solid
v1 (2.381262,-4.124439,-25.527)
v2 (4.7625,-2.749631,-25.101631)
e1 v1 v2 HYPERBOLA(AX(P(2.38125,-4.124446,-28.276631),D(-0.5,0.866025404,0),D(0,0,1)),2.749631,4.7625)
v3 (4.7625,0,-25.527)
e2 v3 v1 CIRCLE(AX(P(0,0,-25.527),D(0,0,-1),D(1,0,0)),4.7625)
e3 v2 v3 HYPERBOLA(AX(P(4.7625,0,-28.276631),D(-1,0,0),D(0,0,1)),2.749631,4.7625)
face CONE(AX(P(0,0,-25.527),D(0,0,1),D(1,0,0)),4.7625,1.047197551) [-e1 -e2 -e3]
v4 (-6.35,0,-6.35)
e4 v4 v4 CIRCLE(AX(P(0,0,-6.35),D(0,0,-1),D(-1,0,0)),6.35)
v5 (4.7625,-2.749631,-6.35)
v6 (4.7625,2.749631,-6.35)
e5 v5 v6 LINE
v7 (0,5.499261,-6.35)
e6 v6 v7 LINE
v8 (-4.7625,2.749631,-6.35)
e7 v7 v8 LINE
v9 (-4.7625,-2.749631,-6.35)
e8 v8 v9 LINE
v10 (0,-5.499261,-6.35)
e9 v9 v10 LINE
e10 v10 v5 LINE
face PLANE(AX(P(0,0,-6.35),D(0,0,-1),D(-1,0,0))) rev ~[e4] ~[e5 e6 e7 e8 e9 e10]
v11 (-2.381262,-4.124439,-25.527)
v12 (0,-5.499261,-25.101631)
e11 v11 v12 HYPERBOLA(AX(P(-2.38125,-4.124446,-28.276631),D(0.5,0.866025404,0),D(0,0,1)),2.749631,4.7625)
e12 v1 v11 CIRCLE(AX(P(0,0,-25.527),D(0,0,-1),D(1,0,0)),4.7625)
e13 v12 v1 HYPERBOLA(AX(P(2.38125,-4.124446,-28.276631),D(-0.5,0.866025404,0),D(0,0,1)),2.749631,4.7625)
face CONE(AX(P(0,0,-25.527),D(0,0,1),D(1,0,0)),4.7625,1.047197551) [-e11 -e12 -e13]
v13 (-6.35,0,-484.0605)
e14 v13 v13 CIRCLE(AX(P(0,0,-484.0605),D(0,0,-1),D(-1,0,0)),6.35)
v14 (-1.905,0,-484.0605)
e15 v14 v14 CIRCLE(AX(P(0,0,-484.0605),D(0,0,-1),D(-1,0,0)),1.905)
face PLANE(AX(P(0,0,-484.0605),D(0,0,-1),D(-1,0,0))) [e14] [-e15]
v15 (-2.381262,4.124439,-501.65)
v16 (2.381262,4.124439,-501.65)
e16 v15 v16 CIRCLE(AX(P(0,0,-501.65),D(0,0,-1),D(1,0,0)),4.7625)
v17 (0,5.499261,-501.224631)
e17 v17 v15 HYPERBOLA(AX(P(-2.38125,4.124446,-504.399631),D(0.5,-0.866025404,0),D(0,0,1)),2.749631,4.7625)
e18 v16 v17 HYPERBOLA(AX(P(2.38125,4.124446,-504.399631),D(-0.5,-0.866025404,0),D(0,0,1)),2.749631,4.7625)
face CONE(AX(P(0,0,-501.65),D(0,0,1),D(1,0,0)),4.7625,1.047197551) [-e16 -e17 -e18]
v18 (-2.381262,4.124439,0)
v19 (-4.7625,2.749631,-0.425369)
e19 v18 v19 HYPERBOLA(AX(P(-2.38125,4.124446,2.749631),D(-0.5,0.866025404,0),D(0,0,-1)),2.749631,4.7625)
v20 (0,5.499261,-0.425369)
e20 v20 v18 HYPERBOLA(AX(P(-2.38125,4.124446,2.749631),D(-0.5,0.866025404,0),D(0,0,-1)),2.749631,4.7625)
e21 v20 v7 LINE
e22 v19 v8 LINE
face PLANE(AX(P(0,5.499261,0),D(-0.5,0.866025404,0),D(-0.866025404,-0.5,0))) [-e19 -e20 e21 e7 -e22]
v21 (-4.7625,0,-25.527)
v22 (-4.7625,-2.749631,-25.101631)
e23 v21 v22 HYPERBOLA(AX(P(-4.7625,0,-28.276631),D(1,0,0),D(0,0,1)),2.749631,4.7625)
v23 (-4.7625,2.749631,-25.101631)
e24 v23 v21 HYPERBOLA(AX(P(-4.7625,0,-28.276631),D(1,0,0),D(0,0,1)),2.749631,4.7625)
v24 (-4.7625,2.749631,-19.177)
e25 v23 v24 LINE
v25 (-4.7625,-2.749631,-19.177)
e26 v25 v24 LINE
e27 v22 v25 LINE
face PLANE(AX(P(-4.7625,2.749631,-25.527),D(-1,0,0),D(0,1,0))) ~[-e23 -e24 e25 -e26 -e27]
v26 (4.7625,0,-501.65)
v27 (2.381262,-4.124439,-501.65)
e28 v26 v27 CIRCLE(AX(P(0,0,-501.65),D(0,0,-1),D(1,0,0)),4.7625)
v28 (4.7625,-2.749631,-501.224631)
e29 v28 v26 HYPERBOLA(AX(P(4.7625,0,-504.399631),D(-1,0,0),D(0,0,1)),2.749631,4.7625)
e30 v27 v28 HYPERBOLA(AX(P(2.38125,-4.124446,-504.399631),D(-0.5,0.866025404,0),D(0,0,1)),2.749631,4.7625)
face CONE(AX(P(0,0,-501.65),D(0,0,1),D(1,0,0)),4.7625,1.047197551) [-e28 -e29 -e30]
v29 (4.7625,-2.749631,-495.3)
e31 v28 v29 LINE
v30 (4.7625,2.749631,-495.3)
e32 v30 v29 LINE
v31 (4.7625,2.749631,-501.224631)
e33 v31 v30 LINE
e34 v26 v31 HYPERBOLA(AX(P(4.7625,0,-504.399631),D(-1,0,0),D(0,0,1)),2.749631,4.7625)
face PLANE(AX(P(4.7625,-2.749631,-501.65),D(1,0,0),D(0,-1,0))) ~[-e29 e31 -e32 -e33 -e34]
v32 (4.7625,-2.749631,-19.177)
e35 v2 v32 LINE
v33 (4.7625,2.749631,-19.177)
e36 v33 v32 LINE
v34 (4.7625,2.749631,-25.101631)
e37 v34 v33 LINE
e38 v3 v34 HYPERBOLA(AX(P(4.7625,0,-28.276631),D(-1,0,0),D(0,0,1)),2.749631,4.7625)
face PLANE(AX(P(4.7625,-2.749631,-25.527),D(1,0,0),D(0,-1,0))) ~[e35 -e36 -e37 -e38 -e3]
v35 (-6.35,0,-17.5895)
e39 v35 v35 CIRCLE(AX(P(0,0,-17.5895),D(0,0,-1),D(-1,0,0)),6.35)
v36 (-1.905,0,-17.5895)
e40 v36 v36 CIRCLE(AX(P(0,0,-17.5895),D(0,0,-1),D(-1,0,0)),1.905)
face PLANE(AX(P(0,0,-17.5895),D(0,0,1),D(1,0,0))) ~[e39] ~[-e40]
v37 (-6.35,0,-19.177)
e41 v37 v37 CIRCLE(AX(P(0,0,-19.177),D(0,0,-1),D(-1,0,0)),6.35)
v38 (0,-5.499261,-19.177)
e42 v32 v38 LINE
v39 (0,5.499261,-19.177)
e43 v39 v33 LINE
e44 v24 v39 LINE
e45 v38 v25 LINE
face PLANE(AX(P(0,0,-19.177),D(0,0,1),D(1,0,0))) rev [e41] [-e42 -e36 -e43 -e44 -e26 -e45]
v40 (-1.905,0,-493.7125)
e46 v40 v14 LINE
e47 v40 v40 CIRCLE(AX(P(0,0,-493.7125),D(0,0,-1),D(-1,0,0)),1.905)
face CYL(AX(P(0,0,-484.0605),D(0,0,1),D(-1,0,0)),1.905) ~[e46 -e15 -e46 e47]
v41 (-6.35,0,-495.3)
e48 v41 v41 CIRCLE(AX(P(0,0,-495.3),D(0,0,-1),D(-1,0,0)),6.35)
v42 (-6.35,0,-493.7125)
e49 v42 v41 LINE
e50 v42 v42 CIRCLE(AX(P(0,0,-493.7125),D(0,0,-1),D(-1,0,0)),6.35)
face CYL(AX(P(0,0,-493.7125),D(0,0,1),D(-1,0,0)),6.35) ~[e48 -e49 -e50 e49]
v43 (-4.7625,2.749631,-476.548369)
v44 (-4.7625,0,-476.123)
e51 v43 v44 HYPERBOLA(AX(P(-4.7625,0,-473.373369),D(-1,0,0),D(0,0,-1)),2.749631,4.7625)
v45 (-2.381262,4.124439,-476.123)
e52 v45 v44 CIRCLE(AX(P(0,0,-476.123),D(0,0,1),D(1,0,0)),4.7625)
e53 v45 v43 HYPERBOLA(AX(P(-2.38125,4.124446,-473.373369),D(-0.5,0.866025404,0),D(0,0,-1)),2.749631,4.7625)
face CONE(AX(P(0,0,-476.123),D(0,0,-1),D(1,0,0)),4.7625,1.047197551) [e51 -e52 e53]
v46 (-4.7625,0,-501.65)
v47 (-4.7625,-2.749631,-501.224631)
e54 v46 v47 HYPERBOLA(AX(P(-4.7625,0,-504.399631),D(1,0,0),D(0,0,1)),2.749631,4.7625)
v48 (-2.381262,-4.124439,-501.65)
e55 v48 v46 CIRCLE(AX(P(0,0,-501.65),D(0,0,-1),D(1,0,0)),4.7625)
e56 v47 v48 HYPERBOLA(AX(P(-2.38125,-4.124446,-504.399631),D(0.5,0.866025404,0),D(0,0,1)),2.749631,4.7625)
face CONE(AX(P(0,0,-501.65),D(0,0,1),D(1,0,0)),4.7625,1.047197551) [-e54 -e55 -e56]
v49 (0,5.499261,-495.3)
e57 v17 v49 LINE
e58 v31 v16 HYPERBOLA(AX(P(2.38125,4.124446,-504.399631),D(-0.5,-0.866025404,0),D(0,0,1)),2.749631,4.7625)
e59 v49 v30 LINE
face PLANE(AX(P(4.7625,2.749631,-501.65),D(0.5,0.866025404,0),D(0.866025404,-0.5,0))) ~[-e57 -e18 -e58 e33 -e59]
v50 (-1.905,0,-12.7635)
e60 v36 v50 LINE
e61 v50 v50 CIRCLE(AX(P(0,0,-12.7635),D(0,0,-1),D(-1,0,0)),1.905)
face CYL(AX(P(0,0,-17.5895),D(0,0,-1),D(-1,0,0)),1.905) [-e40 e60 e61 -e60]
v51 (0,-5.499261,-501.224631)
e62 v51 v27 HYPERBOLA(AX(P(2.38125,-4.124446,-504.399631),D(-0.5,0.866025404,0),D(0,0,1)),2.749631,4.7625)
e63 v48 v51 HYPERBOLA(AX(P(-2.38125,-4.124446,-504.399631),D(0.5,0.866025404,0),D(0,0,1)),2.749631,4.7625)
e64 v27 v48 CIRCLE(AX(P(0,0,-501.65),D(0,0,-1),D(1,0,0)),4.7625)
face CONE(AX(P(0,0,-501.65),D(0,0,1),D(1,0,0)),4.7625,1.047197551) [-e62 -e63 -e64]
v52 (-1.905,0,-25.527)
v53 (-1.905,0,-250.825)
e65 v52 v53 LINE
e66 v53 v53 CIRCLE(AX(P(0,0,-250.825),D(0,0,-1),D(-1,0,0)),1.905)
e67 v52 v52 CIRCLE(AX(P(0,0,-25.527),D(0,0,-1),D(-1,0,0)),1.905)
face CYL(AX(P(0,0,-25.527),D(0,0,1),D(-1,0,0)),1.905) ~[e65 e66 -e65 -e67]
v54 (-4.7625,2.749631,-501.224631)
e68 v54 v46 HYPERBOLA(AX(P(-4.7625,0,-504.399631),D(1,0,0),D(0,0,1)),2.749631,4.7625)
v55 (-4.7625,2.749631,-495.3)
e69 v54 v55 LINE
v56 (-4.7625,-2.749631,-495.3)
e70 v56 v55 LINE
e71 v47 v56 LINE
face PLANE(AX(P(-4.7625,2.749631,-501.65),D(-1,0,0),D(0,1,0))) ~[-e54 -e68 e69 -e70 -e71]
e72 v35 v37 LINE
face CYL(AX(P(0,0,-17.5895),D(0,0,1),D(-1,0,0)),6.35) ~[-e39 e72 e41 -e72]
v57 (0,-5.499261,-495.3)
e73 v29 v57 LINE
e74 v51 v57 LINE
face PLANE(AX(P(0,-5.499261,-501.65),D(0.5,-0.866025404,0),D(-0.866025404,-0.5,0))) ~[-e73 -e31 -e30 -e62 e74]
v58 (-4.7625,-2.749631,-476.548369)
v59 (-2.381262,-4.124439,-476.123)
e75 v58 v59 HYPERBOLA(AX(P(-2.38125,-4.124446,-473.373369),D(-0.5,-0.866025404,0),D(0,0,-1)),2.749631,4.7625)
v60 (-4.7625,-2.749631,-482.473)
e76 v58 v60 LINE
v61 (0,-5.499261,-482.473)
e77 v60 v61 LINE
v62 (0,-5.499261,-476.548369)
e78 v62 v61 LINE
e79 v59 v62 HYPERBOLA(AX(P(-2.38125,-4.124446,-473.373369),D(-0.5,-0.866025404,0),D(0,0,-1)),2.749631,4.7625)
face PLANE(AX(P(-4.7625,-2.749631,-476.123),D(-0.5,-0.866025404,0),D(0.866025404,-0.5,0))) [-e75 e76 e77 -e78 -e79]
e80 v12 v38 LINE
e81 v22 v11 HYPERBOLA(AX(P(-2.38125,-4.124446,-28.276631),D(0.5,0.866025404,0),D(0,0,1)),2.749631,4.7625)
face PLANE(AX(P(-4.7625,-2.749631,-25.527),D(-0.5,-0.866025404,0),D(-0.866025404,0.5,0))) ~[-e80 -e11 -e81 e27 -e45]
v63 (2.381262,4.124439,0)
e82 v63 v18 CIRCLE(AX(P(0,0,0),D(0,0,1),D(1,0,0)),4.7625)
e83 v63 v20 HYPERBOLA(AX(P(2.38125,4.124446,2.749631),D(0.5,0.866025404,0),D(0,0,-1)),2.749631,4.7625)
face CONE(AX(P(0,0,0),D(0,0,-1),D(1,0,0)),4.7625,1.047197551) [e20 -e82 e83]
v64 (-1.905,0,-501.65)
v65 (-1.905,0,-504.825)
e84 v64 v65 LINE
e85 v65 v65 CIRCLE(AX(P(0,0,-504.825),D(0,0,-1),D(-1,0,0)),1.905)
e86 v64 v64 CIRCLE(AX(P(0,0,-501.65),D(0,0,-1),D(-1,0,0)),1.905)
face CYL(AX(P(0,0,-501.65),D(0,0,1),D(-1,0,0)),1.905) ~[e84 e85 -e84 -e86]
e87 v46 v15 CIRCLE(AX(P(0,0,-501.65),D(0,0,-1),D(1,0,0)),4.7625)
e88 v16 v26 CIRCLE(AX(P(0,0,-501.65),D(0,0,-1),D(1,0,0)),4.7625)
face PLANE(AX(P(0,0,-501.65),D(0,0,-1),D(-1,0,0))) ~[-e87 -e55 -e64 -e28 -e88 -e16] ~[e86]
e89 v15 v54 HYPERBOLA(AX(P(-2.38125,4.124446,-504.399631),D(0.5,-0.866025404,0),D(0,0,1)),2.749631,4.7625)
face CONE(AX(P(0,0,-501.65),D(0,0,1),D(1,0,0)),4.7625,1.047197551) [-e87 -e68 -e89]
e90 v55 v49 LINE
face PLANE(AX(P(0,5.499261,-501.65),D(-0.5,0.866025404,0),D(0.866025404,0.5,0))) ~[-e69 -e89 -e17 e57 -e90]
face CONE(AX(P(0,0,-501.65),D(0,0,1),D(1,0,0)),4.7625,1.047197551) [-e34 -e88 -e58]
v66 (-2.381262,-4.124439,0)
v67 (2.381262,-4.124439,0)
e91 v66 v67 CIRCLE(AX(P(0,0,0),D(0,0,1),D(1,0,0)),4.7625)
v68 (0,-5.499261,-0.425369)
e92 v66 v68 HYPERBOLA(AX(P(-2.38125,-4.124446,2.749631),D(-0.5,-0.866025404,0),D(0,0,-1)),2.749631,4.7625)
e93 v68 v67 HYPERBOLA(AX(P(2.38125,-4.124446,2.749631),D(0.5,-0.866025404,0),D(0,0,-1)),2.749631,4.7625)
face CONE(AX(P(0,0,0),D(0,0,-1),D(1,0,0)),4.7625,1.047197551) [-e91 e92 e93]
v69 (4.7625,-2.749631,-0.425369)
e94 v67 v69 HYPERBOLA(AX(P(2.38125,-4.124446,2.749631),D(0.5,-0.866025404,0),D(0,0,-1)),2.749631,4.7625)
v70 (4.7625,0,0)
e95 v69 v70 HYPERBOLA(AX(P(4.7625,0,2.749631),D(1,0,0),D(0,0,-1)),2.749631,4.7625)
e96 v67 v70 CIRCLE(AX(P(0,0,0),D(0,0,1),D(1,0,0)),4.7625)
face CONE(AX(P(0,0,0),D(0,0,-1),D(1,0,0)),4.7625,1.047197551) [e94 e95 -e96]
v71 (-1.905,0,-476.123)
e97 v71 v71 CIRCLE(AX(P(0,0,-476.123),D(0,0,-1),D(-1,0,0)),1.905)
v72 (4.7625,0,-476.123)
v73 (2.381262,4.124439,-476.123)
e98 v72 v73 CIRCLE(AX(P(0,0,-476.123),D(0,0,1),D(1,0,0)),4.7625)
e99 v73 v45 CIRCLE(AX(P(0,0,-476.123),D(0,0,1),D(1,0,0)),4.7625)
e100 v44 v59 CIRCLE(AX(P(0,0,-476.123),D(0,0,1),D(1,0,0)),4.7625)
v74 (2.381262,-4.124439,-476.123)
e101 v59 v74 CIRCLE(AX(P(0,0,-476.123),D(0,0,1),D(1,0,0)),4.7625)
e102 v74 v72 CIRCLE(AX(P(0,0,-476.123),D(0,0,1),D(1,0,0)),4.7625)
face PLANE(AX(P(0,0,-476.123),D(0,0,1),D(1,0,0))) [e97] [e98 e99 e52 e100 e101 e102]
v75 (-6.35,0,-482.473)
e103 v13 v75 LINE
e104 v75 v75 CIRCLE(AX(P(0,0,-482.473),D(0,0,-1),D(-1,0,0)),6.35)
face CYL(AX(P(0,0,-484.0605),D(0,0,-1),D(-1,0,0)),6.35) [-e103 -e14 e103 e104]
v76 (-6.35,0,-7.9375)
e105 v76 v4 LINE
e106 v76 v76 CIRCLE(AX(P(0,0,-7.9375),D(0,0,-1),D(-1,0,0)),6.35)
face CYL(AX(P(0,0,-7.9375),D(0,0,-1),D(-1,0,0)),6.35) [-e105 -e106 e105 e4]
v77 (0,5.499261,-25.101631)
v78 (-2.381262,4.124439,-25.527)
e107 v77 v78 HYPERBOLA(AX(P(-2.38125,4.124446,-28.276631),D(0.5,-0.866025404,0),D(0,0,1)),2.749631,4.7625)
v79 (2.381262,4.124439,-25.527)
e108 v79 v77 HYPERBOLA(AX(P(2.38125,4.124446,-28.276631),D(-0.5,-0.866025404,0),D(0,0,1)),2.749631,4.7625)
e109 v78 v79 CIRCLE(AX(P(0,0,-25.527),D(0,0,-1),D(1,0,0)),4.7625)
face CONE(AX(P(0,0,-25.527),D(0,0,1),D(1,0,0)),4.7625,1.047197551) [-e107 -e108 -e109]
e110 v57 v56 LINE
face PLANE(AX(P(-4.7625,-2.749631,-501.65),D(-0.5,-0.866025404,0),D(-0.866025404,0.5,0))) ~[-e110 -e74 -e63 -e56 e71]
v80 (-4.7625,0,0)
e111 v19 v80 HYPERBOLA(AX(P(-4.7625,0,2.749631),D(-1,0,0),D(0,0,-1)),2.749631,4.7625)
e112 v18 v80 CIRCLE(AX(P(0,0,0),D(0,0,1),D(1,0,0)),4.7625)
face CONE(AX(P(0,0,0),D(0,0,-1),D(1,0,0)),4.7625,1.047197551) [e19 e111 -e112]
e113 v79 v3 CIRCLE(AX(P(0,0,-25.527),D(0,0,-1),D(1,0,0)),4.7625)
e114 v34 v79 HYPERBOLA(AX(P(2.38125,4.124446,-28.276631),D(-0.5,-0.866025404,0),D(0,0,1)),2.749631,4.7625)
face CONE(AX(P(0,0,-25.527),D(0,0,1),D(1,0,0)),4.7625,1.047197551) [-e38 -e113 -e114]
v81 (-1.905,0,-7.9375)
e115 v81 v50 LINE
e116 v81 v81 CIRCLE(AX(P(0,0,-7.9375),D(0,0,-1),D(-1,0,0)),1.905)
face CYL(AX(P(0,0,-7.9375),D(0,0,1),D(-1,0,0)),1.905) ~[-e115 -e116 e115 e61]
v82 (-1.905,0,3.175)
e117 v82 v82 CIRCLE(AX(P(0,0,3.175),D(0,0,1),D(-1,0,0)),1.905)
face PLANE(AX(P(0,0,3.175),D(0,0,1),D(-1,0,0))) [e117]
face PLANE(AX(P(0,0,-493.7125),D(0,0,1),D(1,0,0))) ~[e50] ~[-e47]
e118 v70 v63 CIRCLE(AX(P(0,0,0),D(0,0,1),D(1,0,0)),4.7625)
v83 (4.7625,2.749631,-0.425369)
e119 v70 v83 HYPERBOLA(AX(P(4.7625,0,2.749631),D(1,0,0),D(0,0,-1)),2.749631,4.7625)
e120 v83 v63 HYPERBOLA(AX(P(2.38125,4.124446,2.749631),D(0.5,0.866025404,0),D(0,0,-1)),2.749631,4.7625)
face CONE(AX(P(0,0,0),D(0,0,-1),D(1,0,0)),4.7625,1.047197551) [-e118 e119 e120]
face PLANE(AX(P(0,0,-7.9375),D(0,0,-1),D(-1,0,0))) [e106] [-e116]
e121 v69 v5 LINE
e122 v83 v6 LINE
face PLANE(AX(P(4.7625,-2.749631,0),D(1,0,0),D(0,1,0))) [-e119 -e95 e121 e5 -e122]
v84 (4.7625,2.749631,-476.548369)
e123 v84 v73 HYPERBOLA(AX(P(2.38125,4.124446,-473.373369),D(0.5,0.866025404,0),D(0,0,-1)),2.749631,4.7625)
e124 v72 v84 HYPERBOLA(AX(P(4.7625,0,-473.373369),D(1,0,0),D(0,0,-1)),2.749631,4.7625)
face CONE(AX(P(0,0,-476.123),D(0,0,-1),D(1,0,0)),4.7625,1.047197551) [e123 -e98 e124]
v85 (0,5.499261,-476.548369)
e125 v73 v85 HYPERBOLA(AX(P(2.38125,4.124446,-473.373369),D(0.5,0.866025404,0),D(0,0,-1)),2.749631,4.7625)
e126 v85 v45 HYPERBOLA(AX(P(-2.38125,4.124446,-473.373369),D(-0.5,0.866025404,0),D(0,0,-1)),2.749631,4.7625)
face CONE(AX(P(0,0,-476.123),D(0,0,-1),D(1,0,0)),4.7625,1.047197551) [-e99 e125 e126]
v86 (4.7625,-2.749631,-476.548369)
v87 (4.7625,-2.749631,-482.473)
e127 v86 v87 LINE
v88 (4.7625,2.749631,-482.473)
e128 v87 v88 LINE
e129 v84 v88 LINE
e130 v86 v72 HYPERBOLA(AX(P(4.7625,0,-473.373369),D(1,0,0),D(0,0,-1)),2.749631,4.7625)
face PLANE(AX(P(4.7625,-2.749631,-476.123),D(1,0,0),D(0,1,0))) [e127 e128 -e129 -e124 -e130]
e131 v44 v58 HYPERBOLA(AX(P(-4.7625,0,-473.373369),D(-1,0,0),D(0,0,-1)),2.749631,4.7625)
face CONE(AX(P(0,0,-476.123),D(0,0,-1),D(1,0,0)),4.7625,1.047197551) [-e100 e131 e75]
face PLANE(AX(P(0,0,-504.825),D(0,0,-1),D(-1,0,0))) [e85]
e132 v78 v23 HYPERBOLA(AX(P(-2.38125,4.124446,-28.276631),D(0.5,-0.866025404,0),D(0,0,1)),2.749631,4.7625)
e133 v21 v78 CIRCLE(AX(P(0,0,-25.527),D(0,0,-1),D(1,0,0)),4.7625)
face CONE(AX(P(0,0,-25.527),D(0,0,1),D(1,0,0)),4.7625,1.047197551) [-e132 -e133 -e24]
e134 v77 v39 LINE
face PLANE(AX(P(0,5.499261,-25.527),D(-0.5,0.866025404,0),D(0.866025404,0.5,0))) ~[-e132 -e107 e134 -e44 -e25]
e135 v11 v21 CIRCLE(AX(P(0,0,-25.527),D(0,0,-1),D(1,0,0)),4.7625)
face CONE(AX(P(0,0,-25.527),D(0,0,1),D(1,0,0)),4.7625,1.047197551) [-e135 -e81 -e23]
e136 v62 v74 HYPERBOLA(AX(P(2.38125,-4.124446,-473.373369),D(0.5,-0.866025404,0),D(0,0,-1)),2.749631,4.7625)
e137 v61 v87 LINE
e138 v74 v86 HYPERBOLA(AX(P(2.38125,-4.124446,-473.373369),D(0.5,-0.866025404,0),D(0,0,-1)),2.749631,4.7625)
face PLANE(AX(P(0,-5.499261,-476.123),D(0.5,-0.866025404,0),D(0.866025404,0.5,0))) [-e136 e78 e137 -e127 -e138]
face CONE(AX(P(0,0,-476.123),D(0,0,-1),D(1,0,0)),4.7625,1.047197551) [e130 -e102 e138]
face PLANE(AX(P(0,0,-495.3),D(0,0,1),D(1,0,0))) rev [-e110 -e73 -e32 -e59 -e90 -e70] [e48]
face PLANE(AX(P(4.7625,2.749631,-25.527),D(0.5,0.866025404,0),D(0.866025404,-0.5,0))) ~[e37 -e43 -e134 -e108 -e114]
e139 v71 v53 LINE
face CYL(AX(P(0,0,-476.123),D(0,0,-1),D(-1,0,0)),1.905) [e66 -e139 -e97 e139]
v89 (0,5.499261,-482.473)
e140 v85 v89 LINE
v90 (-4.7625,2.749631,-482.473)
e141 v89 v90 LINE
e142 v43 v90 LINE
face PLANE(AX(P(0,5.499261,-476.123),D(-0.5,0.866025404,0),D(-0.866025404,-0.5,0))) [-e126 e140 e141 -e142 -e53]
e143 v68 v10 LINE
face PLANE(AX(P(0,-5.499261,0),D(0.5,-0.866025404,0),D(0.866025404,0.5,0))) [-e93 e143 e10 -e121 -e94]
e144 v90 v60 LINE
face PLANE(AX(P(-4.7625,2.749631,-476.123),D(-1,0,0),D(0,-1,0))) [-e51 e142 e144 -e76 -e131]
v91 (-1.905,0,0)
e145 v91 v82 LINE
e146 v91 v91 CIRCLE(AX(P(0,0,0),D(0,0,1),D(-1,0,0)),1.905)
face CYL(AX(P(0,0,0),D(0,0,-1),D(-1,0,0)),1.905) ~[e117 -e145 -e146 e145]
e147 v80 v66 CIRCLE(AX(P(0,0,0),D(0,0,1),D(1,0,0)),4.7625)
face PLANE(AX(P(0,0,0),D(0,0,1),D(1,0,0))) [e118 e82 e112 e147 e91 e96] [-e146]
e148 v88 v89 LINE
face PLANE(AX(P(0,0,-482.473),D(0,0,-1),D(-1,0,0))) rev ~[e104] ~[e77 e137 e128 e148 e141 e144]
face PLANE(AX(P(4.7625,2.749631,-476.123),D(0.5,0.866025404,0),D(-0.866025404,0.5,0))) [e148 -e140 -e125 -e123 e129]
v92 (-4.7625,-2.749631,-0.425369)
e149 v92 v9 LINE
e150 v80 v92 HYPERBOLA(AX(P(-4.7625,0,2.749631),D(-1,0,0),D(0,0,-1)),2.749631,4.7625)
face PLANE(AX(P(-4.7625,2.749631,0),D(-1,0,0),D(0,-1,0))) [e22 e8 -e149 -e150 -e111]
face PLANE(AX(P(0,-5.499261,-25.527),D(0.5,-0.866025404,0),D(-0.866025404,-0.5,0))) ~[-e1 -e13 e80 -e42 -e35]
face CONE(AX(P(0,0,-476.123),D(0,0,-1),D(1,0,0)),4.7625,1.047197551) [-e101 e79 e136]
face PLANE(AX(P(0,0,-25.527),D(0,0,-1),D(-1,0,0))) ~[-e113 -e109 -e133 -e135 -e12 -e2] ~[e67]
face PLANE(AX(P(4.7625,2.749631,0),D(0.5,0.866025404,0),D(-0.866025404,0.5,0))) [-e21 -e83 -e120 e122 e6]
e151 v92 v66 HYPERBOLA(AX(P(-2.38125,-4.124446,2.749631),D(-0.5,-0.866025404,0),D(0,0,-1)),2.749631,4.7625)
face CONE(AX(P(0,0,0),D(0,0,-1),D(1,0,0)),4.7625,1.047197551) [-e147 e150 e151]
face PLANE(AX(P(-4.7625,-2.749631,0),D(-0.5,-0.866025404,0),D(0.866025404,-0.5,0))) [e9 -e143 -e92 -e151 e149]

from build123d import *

# Parameters (mm, degrees)
EXTRUDE1_DEPTH          = 7.9375
SKETCH13_R              = 6.35
EXTRUDE3_DEPTH          = 1.5875
SKETCH2_OUTSIDE_W       = 63.61
SKETCH2_OUTSIDE_H       = 63.61
SKETCH2_OUTSIDE_R       = 4.7625
CUT_EXTRUDE1_DEPTH      = 12.985362166
CUT_EXTRUDE1_DRAFT      = -60
SKETCH14_R              = 1.905
BOSS_EXTRUDE1_DEPTH     = 4.826
MIRROR1_COPY_1_SKETCH_W = 63.61
MIRROR1_COPY_1_SKETCH_H = 63.61
MIRROR1_COPY_1_SKETCH_R = 4.7625
MIRROR1_COPY_1_DEPTH    = 12.985362166
MIRROR1_COPY_1_DRAFT    = -60
SKETCH15_R              = 1.905
BOSS_EXTRUDE2_DEPTH     = 225.298
MIRROR2_COPY_1_SKETCH_W = 63.61
MIRROR2_COPY_1_SKETCH_H = 63.61
MIRROR2_COPY_1_SKETCH_R = 4.7625
MIRROR2_COPY_1_DEPTH    = 12.985362166
MIRROR2_COPY_1_DRAFT    = -60
MIRROR2_COPY_2_DEPTH    = 7.9375
MIRROR2_COPY_3_SKETCH_R = 6.35
MIRROR2_COPY_3_DEPTH    = 1.5875
MIRROR2_COPY_4_SKETCH_R = 1.905
MIRROR2_COPY_4_DEPTH    = 4.826
MIRROR2_COPY_5_SKETCH_W = 63.61
MIRROR2_COPY_5_SKETCH_H = 63.61
MIRROR2_COPY_5_SKETCH_R = 4.7625
MIRROR2_COPY_5_DEPTH    = 12.985362166
MIRROR2_COPY_5_DRAFT    = -60
SKETCH16_R              = 1.905
BOSS_EXTRUDE3_DEPTH     = 3.175
SKETCH4_R               = 1.905
BOSS_EXTRUDE4_DEPTH     = 3.175


with BuildPart() as part:
    # Sketch1 → Extrude1 (new body)
    with BuildSketch(Plane.XY):
        Polygon((0, 5.499261314), (-4.7625, 2.749630657), (-4.7625, -2.749630657), (0, -5.499261314), (4.7625, -2.749630657), (4.7625, 2.749630657), align=None)
    extrude1 = extrude(amount=-EXTRUDE1_DEPTH)

    # Sketch13 → Extrude3 (add)
    with BuildSketch(Plane(origin=(0, 0, -7.9375), x_dir=(-1, 0, 0), z_dir=(0, 0, -1))):
        Circle(SKETCH13_R)
    extrude3 = extrude(amount=-EXTRUDE3_DEPTH)


with BuildPart() as cut_extrude1_tool:
    # Sketch2 outside → Cut-Extrude1 (with draft: the straight prism first)
    with BuildSketch(Plane.XY):
        Rectangle(SKETCH2_OUTSIDE_W, SKETCH2_OUTSIDE_H)
        Circle(SKETCH2_OUTSIDE_R, mode=Mode.SUBTRACT)
    extrude(amount=-CUT_EXTRUDE1_DEPTH)
    # Cut-Extrude1: the draft: its side faces are tilted about the plane it starts from
    cut_extrude1_sides = [cut_extrude1_tool.faces().sort_by_distance(p)[0] for p in [
        (0, -31.805, -6.492681083),
        (31.805, 0, -6.492681083),
        (0, 31.805, -6.492681083),
        (-31.805, 0, -6.492681083),
        (-4.7625, 0, -6.492681083),
    ]]
    draft(cut_extrude1_sides, Plane.XY, CUT_EXTRUDE1_DRAFT)


with BuildPart() as part_1:
    add(part.part)

    # Cut-Extrude1: cut by cut_extrude1_tool
    add(cut_extrude1_tool.part, mode=Mode.SUBTRACT)

    # Sketch14 → Boss-Extrude1 (add)
    with BuildSketch(Plane(origin=(0, 0, -7.9375), x_dir=(-1, 0, 0), z_dir=(0, 0, -1))):
        Circle(SKETCH14_R)
    boss_extrude1 = extrude(amount=BOSS_EXTRUDE1_DEPTH)

    # Mirror1: Extrude1, Extrude3, Boss-Extrude1 across plane
    add(extrude1.mirror(Plane(origin=(0, 0, -12.7635), x_dir=(1, 0, 0), z_dir=(0, 0, -1))))
    add(extrude3.mirror(Plane(origin=(0, 0, -12.7635), x_dir=(1, 0, 0), z_dir=(0, 0, -1))))
    add(boss_extrude1.mirror(Plane(origin=(0, 0, -12.7635), x_dir=(1, 0, 0), z_dir=(0, 0, -1))))


with BuildPart() as mirror1_copy_1_tool:
    # Mirror1 copy 1 sketch → Mirror1 copy 1 (with draft: the straight prism first)
    with BuildSketch(Plane(origin=(0, 0, -25.527), x_dir=(1, 0, 0), z_dir=(0, 0, -1))):
        Rectangle(MIRROR1_COPY_1_SKETCH_W, MIRROR1_COPY_1_SKETCH_H)
        Circle(MIRROR1_COPY_1_SKETCH_R, mode=Mode.SUBTRACT)
    extrude(amount=-MIRROR1_COPY_1_DEPTH)
    # Mirror1 copy 1: the draft: its side faces are tilted about the plane it starts from
    mirror1_copy_1_sides = [mirror1_copy_1_tool.faces().sort_by_distance(p)[0] for p in [
        (0, -31.805, -19.034318917),
        (31.805, 0, -19.034318917),
        (0, 31.805, -19.034318917),
        (-31.805, 0, -19.034318917),
        (-4.7625, 0, -19.034318917),
    ]]
    draft(mirror1_copy_1_sides, Plane(origin=(0, 0, -25.527), x_dir=(1, 0, 0), z_dir=(0, 0, -1)), MIRROR1_COPY_1_DRAFT)


with BuildPart() as part_2:
    add(part_1.part)

    # Mirror1 copy 1: cut by mirror1_copy_1_tool
    add(mirror1_copy_1_tool.part, mode=Mode.SUBTRACT)

    # Sketch15 → Boss-Extrude2 (add)
    with BuildSketch(Plane(origin=(0, 0, -25.527), x_dir=(-1, 0, 0), z_dir=(0, 0, -1))):
        Circle(SKETCH15_R)
    boss_extrude2 = extrude(amount=BOSS_EXTRUDE2_DEPTH)

    # Mirror2: Extrude1, Extrude3, Boss-Extrude1, Boss-Extrude2 across plane
    add(extrude1.mirror(Plane(origin=(0, 0, -250.825), x_dir=(1, 0, 0), z_dir=(0, 0, -1))))
    add(extrude3.mirror(Plane(origin=(0, 0, -250.825), x_dir=(1, 0, 0), z_dir=(0, 0, -1))))
    add(boss_extrude1.mirror(Plane(origin=(0, 0, -250.825), x_dir=(1, 0, 0), z_dir=(0, 0, -1))))
    add(boss_extrude2.mirror(Plane(origin=(0, 0, -250.825), x_dir=(1, 0, 0), z_dir=(0, 0, -1))))


with BuildPart() as mirror2_copy_1_tool:
    # Mirror2 copy 1 sketch → Mirror2 copy 1 (with draft: the straight prism first)
    with BuildSketch(Plane(origin=(0, 0, -501.65), x_dir=(1, 0, 0), z_dir=(0, 0, -1))):
        Rectangle(MIRROR2_COPY_1_SKETCH_W, MIRROR2_COPY_1_SKETCH_H)
        Circle(MIRROR2_COPY_1_SKETCH_R, mode=Mode.SUBTRACT)
    extrude(amount=-MIRROR2_COPY_1_DEPTH)
    # Mirror2 copy 1: the draft: its side faces are tilted about the plane it starts from
    mirror2_copy_1_sides = [mirror2_copy_1_tool.faces().sort_by_distance(p)[0] for p in [
        (0, -31.805, -495.157318917),
        (31.805, 0, -495.157318917),
        (0, 31.805, -495.157318917),
        (-31.805, 0, -495.157318917),
        (-4.7625, 0, -495.157318917),
    ]]
    draft(mirror2_copy_1_sides, Plane(origin=(0, 0, -501.65), x_dir=(1, 0, 0), z_dir=(0, 0, -1)), MIRROR2_COPY_1_DRAFT)


with BuildPart() as part_3:
    add(part_2.part)

    # Mirror2 copy 1: cut by mirror2_copy_1_tool
    add(mirror2_copy_1_tool.part, mode=Mode.SUBTRACT)

    # Mirror2 copy 2 sketch → Mirror2 copy 2 (add)
    with BuildSketch(Plane.XY.offset(-476.123)):
        Polygon((0, 5.499261314), (-4.7625, 2.749630657), (-4.7625, -2.749630657), (0, -5.499261314), (4.7625, -2.749630657), (4.7625, 2.749630657), align=None)
    extrude(amount=-MIRROR2_COPY_2_DEPTH)

    # Mirror2 copy 3 sketch → Mirror2 copy 3 (add)
    with BuildSketch(Plane(origin=(0, 0, -484.0605), x_dir=(-1, 0, 0), z_dir=(0, 0, -1))):
        Circle(MIRROR2_COPY_3_SKETCH_R)
    extrude(amount=-MIRROR2_COPY_3_DEPTH)

    # Mirror2 copy 4 sketch → Mirror2 copy 4 (add)
    with BuildSketch(Plane(origin=(0, 0, -484.0605), x_dir=(-1, 0, 0), z_dir=(0, 0, -1))):
        Circle(MIRROR2_COPY_4_SKETCH_R)
    extrude(amount=MIRROR2_COPY_4_DEPTH)


with BuildPart() as mirror2_copy_5_tool:
    # Mirror2 copy 5 sketch → Mirror2 copy 5 (with draft: the straight prism first)
    with BuildSketch(Plane.XY.offset(-476.123)):
        Rectangle(MIRROR2_COPY_5_SKETCH_W, MIRROR2_COPY_5_SKETCH_H)
        Circle(MIRROR2_COPY_5_SKETCH_R, mode=Mode.SUBTRACT)
    extrude(amount=-MIRROR2_COPY_5_DEPTH)
    # Mirror2 copy 5: the draft: its side faces are tilted about the plane it starts from
    mirror2_copy_5_sides = [mirror2_copy_5_tool.faces().sort_by_distance(p)[0] for p in [
        (0, -31.805, -482.615681083),
        (31.805, 0, -482.615681083),
        (0, 31.805, -482.615681083),
        (-31.805, 0, -482.615681083),
        (-4.7625, 0, -482.615681083),
    ]]
    draft(mirror2_copy_5_sides, Plane.XY.offset(-476.123), MIRROR2_COPY_5_DRAFT)


with BuildPart() as part_4:
    add(part_3.part)

    # Mirror2 copy 5: cut by mirror2_copy_5_tool
    add(mirror2_copy_5_tool.part, mode=Mode.SUBTRACT)

    # Sketch16 → Boss-Extrude3 (add)
    with BuildSketch(Plane(origin=(0, 0, -501.65), x_dir=(-1, 0, 0), z_dir=(0, 0, -1))):
        Circle(SKETCH16_R)
    extrude(amount=BOSS_EXTRUDE3_DEPTH)

    # Sketch4 → Boss-Extrude4 (add)
    with BuildSketch(Plane.XY):
        with Locations(Location((0, 0, 0), (0, 0, 180))):
            Circle(SKETCH4_R)
    extrude(amount=BOSS_EXTRUDE4_DEPTH)


solid = part_4.part
